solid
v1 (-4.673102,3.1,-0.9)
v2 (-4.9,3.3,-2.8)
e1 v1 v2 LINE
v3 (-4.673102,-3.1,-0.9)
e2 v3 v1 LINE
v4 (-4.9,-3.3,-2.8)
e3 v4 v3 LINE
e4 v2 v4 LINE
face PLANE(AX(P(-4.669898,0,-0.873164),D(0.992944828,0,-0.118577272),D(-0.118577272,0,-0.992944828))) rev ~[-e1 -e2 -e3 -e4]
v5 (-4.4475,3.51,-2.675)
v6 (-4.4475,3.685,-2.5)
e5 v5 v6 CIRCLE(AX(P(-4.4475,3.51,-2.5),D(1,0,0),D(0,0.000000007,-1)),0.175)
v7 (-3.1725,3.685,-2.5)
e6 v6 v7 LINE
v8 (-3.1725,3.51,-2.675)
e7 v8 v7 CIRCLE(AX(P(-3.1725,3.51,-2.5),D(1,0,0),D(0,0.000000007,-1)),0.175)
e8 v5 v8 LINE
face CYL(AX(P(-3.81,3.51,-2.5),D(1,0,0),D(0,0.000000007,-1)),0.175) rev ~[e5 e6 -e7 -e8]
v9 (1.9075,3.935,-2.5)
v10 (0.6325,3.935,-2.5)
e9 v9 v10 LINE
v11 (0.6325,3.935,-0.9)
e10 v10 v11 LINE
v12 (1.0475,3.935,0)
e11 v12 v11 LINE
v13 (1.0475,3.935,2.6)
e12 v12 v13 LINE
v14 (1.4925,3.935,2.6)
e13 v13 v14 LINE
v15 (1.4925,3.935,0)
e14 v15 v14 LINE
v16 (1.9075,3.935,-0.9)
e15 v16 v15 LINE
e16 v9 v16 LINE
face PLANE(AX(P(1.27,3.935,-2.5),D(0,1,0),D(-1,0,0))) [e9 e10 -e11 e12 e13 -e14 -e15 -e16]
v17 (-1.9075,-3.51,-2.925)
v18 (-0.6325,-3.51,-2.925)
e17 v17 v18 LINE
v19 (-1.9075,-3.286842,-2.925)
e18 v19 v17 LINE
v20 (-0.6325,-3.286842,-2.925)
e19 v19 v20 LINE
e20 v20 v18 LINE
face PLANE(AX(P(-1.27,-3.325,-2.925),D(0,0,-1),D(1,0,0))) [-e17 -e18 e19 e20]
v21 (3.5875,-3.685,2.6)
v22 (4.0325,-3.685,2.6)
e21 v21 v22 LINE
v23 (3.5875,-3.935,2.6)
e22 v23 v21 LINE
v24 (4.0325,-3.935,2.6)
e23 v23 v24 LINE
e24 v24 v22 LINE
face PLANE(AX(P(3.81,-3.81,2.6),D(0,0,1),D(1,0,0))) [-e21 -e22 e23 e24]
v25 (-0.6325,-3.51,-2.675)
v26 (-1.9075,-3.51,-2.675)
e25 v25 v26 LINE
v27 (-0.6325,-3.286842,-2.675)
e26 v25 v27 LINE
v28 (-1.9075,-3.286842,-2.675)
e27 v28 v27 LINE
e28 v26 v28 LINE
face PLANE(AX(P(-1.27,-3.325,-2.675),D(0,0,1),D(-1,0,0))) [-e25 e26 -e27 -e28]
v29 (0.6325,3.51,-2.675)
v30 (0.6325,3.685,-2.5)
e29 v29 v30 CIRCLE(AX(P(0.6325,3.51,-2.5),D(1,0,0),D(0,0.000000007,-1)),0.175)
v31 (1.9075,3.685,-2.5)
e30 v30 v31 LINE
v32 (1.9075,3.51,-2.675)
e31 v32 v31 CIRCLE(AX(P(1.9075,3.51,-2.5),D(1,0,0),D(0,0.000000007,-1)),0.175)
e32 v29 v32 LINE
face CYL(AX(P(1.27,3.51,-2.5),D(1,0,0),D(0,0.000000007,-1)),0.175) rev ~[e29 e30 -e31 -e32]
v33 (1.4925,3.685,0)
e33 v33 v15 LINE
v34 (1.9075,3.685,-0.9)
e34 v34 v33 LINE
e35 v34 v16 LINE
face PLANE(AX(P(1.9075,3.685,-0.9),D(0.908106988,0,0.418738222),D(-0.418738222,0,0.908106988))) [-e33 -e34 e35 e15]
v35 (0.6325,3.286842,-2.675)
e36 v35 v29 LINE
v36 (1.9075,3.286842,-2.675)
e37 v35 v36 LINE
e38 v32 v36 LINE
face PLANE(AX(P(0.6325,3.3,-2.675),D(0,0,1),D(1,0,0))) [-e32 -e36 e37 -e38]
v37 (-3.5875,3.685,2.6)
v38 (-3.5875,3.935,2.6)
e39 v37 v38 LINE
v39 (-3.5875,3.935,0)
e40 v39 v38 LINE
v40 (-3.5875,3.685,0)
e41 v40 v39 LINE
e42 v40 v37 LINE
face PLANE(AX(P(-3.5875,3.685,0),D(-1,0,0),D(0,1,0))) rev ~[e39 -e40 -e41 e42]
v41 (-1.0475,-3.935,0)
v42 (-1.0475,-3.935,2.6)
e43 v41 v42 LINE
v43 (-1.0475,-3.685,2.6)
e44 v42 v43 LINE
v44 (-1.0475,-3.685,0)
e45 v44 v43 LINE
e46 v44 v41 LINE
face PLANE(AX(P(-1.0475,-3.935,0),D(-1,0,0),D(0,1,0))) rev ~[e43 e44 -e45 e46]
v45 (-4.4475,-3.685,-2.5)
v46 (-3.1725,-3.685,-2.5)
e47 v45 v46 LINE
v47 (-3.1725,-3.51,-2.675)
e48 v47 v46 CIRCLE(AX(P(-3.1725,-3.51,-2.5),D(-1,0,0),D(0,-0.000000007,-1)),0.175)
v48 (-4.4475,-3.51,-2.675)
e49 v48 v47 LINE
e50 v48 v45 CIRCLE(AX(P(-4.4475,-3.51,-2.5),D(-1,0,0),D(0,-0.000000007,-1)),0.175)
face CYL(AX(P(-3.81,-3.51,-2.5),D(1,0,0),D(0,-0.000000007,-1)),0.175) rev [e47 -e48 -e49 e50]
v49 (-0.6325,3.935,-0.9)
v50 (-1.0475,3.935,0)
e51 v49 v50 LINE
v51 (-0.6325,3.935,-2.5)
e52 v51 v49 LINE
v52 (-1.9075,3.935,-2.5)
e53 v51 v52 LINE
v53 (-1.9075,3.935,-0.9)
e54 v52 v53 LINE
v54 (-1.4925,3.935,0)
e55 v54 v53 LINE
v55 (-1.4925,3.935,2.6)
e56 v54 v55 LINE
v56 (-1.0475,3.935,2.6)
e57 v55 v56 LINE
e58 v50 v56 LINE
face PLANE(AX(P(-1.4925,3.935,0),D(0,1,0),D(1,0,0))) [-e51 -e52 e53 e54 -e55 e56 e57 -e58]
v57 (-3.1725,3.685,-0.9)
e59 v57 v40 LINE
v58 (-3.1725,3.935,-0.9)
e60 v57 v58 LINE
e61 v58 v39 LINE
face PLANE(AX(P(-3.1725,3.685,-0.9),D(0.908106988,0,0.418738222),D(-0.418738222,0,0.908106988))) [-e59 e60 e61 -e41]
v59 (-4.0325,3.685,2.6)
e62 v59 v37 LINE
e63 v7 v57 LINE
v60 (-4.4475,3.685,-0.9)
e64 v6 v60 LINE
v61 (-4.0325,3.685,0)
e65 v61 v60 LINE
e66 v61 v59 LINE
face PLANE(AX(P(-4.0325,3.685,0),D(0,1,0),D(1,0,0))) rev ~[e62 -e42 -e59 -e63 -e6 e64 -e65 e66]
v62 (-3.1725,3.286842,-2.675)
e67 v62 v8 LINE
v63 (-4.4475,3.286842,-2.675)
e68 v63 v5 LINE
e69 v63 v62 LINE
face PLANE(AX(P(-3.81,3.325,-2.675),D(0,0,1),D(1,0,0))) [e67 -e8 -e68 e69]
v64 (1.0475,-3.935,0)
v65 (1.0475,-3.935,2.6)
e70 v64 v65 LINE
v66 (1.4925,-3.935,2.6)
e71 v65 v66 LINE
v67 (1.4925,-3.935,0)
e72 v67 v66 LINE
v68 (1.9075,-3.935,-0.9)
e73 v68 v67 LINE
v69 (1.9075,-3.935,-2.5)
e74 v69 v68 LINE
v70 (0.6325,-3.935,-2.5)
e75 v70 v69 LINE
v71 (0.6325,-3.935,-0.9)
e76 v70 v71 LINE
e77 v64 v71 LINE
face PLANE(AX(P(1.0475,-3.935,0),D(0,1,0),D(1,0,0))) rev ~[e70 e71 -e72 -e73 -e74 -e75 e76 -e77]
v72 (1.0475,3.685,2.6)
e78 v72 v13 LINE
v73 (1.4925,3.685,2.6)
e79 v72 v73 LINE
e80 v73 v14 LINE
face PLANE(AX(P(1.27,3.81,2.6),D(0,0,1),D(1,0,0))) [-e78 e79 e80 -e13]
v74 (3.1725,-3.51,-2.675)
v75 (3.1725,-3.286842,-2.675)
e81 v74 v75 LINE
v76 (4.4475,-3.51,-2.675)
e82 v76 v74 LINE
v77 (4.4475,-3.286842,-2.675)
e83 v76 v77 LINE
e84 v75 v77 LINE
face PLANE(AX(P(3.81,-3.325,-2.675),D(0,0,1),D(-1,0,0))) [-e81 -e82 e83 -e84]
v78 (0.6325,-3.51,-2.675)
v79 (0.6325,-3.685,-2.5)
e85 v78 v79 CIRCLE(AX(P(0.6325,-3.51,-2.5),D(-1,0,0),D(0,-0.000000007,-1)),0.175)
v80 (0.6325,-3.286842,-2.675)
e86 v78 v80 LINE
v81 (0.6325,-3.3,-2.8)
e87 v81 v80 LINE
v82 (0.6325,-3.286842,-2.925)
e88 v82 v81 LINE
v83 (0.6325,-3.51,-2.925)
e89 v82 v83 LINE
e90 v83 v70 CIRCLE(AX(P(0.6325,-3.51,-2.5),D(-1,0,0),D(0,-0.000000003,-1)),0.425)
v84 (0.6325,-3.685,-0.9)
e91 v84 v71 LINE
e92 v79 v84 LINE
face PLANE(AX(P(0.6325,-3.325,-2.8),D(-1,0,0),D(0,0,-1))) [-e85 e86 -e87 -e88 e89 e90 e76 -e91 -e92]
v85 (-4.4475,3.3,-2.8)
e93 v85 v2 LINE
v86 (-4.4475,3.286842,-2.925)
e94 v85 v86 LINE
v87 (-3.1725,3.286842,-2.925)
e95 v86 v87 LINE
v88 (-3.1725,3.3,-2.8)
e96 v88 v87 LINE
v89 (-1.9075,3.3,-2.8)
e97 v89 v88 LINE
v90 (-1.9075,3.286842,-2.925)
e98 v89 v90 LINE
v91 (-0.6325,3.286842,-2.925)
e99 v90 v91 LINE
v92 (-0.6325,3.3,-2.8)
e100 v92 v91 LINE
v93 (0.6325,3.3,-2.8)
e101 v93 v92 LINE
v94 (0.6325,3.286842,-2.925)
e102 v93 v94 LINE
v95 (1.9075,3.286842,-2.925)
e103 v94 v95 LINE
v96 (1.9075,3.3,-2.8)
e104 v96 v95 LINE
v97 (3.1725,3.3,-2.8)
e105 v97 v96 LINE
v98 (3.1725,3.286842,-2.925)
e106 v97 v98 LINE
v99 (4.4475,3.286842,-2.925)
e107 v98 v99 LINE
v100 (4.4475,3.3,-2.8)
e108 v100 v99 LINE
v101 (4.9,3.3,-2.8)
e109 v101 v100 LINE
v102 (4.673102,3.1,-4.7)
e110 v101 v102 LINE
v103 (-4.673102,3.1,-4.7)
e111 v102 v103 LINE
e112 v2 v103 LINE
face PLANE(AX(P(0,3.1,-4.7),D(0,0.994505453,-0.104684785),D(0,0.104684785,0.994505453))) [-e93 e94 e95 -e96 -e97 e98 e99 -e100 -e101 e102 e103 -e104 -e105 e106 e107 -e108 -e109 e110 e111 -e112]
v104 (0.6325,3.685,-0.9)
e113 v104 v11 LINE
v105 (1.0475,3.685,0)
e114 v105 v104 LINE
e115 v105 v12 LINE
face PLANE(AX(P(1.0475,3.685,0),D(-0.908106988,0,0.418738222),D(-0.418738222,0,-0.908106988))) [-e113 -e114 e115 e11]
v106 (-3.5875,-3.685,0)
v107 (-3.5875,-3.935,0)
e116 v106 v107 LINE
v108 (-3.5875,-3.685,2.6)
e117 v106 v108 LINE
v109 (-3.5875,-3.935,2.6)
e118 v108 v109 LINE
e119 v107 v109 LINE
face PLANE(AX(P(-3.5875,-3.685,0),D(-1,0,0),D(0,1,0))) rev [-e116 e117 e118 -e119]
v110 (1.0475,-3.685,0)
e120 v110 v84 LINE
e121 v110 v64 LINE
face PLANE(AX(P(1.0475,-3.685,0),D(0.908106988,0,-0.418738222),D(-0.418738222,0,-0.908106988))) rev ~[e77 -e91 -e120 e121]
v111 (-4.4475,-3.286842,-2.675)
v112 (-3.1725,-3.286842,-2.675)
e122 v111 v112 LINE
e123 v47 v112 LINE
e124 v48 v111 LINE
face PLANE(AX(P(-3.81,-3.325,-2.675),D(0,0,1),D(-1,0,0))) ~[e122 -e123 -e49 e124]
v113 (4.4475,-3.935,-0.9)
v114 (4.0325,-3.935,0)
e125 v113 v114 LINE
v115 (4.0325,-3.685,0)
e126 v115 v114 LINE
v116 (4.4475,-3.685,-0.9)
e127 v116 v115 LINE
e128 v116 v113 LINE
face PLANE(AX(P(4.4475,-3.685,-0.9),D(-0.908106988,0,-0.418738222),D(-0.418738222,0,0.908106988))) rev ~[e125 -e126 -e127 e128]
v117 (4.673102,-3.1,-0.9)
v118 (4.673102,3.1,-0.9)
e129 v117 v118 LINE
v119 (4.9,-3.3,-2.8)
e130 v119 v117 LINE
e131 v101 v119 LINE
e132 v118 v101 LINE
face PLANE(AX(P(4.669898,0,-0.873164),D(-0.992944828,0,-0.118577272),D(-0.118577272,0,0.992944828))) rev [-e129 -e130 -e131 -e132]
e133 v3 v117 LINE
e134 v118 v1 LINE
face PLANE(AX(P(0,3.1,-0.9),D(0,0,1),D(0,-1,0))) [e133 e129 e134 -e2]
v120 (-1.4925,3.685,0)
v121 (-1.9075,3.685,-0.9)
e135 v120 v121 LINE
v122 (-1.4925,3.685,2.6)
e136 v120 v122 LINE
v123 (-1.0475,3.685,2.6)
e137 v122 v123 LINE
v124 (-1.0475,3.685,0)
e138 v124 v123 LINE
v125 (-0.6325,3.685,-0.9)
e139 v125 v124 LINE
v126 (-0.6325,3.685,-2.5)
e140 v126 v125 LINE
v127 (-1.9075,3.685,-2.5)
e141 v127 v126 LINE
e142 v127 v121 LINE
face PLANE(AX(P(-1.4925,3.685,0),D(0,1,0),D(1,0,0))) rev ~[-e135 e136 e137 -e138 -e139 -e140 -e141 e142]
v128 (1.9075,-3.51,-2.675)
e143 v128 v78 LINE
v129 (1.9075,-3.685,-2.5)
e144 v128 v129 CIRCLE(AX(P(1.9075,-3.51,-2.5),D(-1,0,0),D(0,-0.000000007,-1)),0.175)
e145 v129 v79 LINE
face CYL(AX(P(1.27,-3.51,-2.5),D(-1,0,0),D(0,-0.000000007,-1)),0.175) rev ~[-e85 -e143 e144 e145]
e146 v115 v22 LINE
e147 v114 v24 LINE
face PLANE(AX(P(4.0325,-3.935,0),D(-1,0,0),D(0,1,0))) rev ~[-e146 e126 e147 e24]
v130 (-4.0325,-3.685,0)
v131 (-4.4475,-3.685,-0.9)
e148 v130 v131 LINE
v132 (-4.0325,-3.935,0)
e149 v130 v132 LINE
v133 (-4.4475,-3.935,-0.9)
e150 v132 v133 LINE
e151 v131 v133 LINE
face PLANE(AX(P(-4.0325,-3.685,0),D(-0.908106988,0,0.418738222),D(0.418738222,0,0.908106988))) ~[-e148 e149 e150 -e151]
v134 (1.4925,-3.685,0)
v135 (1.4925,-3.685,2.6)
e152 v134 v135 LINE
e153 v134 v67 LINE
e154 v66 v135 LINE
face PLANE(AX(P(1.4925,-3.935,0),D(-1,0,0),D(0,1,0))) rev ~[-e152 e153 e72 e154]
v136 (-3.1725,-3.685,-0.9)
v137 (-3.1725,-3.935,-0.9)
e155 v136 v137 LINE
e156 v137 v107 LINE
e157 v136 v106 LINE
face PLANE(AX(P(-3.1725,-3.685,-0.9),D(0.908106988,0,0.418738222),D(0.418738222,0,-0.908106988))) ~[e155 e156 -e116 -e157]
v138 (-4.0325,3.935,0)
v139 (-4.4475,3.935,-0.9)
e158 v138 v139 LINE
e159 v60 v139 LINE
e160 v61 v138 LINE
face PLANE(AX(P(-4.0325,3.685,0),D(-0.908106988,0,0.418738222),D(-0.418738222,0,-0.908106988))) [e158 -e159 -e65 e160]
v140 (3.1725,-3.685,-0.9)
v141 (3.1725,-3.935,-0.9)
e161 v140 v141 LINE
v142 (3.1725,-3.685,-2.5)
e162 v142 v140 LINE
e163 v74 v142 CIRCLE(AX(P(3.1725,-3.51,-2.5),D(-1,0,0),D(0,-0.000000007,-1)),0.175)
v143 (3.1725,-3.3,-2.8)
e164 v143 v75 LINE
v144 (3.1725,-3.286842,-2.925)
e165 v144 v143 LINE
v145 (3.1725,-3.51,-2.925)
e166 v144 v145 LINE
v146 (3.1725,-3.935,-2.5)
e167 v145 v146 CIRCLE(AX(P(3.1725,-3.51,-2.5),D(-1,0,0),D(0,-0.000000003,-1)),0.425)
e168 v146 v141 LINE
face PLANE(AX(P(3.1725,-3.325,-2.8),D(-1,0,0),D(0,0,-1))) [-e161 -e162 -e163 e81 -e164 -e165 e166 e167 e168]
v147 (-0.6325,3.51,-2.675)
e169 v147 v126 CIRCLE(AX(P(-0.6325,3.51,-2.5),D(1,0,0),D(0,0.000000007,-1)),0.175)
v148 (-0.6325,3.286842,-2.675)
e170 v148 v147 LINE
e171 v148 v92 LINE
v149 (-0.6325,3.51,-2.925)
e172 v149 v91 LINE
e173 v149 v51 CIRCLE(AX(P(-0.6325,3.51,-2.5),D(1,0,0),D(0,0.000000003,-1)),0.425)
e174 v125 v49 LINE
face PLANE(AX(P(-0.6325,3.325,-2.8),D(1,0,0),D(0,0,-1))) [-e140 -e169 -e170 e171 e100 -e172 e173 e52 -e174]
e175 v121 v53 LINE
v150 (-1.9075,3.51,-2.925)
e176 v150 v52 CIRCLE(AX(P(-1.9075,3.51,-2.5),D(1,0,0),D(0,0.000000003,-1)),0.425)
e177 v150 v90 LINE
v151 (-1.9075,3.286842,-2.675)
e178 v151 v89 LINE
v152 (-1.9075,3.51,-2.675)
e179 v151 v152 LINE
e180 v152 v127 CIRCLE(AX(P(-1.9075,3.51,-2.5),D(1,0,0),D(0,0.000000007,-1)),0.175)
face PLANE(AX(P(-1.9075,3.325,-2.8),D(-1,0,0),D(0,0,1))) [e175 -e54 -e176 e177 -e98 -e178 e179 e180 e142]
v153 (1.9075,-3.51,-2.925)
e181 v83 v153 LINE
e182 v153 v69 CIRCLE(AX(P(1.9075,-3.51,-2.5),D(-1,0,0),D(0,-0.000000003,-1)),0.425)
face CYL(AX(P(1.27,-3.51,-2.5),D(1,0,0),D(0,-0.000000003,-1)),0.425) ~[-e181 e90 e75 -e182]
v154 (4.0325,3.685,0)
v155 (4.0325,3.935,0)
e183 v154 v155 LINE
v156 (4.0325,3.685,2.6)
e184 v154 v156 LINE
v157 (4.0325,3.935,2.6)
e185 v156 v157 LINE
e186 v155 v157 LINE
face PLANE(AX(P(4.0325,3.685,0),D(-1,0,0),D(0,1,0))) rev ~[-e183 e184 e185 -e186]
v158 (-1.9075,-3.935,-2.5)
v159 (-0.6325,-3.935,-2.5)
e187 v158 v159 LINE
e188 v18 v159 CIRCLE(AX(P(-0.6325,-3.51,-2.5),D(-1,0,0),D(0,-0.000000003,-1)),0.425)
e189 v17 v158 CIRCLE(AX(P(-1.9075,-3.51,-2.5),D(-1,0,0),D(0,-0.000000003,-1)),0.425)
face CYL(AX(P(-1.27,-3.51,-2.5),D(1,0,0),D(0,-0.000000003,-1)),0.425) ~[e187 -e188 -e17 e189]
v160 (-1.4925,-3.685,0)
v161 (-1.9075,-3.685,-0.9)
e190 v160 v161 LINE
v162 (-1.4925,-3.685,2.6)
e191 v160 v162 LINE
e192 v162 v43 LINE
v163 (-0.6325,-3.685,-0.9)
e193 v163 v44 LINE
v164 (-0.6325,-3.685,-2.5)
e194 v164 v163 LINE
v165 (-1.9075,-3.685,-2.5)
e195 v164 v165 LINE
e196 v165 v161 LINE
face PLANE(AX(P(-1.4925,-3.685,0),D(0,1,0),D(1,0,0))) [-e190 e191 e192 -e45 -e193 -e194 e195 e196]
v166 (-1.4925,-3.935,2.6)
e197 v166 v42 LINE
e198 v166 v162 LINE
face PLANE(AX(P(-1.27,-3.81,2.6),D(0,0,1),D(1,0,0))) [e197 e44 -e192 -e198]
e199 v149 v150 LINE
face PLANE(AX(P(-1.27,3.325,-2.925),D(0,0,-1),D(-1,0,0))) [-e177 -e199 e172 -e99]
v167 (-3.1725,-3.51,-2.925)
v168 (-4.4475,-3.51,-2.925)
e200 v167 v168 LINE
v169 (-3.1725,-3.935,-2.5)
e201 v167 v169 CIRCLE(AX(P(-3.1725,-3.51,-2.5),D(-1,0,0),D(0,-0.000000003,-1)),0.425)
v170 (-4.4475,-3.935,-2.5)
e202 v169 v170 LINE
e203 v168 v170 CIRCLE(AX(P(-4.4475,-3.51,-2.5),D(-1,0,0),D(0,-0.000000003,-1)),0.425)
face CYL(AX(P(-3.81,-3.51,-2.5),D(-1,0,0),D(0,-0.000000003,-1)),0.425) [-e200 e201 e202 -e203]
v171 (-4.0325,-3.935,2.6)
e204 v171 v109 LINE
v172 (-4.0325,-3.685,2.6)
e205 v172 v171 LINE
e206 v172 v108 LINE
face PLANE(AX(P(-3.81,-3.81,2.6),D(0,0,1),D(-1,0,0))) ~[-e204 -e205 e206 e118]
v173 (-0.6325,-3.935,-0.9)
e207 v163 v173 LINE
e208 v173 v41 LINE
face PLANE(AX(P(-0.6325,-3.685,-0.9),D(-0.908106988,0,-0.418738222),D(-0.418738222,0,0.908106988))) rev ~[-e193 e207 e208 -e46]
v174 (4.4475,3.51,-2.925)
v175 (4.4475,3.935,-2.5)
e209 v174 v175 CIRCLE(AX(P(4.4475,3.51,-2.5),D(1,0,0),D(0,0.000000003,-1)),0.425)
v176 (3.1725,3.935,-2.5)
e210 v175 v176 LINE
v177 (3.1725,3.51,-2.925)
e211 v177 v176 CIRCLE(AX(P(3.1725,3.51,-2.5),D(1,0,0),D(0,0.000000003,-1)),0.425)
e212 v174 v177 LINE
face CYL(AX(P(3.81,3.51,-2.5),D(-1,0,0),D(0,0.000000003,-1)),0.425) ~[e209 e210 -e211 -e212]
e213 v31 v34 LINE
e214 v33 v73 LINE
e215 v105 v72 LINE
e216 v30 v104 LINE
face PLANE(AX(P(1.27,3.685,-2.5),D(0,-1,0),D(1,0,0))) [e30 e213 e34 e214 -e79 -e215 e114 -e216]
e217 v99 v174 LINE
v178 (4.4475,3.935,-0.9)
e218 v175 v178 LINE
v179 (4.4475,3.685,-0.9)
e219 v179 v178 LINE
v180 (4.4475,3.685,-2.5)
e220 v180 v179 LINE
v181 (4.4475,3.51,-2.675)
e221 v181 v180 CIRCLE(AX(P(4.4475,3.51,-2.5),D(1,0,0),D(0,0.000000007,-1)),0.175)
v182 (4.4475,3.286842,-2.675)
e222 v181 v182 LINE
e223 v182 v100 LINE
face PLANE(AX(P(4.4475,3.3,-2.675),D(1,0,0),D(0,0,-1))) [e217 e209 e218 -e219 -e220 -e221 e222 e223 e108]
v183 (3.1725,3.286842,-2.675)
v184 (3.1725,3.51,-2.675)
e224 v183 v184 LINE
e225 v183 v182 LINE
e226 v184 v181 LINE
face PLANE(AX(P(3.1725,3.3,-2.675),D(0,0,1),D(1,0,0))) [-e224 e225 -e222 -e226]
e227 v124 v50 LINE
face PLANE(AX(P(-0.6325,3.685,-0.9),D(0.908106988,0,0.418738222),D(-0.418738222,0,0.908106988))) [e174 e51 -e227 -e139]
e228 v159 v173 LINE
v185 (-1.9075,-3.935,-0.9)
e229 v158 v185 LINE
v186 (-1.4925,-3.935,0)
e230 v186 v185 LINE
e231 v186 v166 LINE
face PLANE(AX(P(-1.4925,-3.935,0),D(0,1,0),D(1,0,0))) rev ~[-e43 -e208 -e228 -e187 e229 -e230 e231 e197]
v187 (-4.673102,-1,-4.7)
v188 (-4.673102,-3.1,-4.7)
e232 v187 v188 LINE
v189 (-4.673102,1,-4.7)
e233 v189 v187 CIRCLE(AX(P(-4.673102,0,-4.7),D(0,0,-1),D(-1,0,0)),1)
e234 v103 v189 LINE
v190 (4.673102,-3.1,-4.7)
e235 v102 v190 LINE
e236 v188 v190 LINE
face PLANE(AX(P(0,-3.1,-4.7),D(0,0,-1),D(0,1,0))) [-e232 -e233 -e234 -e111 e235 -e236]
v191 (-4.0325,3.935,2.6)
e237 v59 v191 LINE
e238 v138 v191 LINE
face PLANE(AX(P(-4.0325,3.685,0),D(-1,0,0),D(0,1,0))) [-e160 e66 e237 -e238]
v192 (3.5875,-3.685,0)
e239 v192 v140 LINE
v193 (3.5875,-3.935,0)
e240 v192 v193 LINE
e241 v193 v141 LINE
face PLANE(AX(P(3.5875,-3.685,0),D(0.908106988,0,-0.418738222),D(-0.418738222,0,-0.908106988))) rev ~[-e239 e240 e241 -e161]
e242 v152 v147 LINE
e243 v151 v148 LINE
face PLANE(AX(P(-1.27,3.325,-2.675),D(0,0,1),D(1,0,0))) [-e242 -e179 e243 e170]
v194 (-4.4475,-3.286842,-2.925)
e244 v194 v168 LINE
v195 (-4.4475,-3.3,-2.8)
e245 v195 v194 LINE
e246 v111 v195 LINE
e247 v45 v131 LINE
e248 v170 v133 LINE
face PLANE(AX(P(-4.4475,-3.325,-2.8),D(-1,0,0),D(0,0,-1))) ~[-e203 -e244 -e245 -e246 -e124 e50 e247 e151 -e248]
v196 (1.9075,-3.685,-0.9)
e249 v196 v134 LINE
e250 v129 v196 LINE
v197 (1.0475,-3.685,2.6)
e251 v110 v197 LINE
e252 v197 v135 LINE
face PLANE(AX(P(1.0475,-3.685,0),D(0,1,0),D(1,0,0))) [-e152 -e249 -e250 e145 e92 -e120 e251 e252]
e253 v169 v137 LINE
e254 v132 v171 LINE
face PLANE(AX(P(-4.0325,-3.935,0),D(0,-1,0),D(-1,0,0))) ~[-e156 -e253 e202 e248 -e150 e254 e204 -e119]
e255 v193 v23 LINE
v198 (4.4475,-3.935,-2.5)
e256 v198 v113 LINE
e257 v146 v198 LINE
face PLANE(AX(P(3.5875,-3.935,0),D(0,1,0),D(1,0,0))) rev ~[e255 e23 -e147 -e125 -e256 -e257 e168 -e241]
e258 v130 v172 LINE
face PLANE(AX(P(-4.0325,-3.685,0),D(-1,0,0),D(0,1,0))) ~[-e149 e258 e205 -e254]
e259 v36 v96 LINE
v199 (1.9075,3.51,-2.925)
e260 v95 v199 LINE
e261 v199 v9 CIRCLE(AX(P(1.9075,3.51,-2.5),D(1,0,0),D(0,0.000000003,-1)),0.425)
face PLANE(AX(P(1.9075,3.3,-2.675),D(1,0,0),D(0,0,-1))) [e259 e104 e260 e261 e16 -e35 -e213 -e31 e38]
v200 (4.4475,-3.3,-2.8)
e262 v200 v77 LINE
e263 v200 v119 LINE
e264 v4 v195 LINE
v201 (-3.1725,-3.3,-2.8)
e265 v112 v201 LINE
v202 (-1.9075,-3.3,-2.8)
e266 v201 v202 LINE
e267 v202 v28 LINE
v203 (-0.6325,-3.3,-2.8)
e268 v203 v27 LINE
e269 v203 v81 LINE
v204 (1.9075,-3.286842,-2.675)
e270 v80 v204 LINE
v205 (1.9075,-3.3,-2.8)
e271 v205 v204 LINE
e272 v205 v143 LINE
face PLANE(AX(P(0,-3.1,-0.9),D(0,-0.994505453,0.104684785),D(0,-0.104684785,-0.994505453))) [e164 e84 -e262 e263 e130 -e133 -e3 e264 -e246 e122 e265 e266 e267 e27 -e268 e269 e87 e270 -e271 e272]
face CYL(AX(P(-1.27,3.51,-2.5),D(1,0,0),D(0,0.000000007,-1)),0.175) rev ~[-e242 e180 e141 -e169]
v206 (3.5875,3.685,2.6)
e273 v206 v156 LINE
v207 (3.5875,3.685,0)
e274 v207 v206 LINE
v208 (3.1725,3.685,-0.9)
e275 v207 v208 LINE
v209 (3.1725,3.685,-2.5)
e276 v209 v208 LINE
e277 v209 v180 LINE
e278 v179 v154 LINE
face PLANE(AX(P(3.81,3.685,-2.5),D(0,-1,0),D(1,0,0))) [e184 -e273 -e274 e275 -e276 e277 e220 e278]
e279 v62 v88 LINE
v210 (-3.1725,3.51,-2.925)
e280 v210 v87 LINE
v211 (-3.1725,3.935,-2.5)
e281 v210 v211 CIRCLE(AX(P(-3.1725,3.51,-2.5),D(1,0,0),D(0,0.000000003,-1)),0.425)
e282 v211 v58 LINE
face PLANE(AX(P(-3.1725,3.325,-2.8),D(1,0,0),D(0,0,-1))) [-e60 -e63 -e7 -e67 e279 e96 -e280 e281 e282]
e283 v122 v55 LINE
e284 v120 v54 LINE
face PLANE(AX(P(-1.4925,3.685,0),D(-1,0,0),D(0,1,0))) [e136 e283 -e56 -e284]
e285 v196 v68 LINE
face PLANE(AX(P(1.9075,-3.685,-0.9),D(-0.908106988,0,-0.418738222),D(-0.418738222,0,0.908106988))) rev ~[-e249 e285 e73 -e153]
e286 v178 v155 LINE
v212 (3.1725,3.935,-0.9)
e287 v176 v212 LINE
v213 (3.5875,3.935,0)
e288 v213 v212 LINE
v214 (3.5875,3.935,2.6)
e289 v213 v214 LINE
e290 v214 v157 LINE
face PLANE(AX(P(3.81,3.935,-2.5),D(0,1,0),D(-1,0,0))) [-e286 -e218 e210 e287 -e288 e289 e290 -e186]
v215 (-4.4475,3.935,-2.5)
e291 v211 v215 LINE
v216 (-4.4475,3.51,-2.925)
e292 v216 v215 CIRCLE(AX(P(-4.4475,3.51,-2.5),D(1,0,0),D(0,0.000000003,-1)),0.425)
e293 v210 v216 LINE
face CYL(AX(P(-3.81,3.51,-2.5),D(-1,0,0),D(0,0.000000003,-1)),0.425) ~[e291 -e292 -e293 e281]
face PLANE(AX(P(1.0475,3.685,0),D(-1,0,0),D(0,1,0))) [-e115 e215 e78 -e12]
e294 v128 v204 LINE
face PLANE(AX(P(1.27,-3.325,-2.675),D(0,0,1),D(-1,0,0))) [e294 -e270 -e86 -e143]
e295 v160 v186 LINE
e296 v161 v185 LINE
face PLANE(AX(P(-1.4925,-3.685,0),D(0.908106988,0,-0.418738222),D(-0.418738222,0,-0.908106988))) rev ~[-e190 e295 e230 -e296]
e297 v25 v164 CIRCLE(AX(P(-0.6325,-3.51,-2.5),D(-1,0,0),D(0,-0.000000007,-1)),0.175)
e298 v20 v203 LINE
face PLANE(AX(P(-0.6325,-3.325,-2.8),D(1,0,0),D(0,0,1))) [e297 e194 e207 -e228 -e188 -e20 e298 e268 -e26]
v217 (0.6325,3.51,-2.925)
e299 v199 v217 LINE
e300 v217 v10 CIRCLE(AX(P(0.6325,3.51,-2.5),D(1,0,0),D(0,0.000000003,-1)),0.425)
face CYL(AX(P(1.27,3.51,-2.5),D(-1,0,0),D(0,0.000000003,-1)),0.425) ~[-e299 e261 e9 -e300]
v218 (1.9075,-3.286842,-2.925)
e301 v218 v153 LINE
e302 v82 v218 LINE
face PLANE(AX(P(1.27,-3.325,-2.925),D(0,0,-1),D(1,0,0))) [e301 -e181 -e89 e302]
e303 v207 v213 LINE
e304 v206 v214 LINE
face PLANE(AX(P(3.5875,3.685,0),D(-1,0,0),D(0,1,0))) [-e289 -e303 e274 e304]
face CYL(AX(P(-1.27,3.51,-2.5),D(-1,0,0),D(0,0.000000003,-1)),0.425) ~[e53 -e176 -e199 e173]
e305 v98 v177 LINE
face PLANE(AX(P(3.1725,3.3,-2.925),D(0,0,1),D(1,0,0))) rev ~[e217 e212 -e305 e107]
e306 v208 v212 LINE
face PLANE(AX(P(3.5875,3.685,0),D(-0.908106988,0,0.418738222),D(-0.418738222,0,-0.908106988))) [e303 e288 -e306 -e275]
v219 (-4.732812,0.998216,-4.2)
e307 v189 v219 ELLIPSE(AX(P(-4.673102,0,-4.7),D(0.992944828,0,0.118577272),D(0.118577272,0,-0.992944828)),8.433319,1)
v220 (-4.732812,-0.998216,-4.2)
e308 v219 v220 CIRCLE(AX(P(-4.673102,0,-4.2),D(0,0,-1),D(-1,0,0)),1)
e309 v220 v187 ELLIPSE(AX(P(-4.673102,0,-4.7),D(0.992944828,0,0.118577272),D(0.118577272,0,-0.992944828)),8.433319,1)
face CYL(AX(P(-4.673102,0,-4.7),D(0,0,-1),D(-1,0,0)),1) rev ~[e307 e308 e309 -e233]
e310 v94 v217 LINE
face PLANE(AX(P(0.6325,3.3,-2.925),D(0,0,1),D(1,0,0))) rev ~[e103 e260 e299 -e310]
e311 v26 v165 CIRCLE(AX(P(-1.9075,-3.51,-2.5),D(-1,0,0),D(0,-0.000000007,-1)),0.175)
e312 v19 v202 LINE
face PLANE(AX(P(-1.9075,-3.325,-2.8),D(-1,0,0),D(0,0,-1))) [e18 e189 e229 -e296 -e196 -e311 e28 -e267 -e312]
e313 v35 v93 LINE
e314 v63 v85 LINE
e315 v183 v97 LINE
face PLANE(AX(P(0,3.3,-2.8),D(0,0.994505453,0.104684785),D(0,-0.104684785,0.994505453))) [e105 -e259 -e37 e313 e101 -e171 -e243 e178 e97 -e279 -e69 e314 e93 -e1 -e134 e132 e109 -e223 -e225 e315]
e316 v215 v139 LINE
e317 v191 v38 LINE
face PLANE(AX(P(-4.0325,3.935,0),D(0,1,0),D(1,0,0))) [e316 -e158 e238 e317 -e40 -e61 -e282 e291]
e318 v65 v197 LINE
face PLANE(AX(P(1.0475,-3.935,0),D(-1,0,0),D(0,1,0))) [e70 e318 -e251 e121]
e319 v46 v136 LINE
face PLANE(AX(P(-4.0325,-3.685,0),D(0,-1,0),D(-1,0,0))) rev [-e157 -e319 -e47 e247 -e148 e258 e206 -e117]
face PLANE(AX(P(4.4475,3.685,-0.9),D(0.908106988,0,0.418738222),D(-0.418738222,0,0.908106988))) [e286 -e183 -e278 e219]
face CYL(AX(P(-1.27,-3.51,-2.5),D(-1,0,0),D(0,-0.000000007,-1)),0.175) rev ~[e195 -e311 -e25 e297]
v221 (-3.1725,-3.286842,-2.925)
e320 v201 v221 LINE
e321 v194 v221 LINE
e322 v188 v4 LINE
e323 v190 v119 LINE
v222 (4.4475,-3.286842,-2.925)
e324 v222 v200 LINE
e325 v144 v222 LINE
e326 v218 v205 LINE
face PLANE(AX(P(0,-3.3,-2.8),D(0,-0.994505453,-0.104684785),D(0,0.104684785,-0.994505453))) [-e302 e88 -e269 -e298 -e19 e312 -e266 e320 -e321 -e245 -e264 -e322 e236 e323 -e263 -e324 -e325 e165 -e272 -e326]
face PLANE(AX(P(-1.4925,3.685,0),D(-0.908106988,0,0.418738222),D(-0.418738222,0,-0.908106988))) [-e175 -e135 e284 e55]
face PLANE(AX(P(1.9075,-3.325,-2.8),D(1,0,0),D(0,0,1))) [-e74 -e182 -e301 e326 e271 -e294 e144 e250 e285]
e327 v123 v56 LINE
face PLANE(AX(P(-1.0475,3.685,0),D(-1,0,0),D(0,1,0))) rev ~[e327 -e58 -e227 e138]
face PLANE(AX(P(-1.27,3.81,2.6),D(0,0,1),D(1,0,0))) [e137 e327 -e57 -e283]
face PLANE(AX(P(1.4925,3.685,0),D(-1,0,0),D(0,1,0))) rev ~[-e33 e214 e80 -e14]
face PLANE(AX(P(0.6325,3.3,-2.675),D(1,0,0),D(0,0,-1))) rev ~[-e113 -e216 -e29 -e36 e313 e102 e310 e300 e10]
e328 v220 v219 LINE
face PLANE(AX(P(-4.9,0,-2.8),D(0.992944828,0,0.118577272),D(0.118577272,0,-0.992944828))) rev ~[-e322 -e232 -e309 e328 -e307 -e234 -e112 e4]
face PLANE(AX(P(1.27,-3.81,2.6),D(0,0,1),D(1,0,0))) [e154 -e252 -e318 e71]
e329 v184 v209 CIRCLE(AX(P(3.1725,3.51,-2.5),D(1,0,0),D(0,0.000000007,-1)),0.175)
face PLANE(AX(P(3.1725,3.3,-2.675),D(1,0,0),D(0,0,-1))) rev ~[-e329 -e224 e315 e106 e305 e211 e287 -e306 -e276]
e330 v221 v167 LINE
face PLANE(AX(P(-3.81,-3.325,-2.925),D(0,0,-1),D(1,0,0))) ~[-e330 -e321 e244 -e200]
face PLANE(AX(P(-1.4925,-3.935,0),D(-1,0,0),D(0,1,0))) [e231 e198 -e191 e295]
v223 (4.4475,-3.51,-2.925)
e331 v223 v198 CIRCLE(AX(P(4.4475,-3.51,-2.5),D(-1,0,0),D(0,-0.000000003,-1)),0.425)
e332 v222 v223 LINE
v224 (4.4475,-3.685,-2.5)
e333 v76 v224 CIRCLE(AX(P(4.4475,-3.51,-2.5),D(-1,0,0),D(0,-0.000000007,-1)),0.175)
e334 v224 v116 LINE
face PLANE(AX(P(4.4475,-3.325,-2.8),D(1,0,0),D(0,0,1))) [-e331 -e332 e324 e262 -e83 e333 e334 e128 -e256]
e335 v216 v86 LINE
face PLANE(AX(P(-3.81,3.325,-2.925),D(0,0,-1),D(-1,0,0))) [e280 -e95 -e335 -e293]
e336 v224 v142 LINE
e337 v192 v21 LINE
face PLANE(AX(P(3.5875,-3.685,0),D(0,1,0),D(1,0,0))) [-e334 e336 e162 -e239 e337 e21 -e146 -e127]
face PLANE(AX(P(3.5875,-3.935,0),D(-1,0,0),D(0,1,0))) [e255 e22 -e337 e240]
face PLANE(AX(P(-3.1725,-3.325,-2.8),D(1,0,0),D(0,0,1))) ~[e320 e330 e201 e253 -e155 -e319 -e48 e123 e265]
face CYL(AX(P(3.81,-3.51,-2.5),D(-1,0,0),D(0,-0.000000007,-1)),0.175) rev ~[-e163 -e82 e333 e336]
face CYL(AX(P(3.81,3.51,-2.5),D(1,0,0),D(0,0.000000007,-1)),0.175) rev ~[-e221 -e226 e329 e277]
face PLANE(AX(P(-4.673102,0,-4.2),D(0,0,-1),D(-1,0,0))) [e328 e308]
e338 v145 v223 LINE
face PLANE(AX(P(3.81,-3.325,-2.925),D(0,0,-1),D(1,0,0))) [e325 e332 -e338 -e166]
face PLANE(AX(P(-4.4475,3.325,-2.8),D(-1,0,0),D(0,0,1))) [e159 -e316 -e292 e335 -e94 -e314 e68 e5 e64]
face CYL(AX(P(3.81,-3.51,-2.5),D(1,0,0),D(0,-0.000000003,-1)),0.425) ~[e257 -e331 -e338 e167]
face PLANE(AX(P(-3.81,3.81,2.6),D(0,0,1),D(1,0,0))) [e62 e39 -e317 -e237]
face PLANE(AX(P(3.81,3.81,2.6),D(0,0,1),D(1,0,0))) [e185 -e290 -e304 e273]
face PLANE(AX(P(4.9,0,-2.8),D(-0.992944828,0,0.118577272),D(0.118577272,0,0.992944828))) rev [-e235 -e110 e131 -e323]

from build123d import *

# Parameters (mm, degrees)
RESSALTO_EXTRUS_O1_DEPTH        = 4.9
CORTE_EXTRUS_O2_DEPTH           = 3.55
ESBO_O8_R                       = 1
CORTE_EXTRUS_O5_DEPTH           = 0.5
ESBO_O6_W                       = 1.275
ESBO_O6_H                       = 0.25
RESSALTO_EXTRUS_O2_DEPTH        = 0.025
ESBO_O7_W                       = 1.275
ESBO_O7_H                       = 0.25
CORTE_EXTRUS_O6_START           = -0.25
CORTE_EXTRUS_O6_DEPTH           = 0.25
ESBO_O10_W                      = 0.445
ESBO_O10_H                      = 0.25
RESSALTO_EXTRUS_O3_DEPTH        = 2.6
PADR_O_LINEAR1_COUNT            = 4
PADR_O_LINEAR1_PITCH            = 2.54
PADR_O_LINEAR1_COPY_1_SKETCH_W  = 1.275
PADR_O_LINEAR1_COPY_1_SKETCH_H  = 0.25
PADR_O_LINEAR1_COPY_1_DEPTH     = 0.025
PADR_O_LINEAR1_COPY_2_SKETCH_W  = 1.275
PADR_O_LINEAR1_COPY_2_SKETCH_H  = 0.25
PADR_O_LINEAR1_COPY_2_DEPTH     = 0.025
PADR_O_LINEAR1_COPY_3_SKETCH_W  = 1.275
PADR_O_LINEAR1_COPY_3_SKETCH_H  = 0.25
PADR_O_LINEAR1_COPY_3_DEPTH     = 0.025
PADR_O_LINEAR1_COPY_4_SKETCH_W  = 1.275
PADR_O_LINEAR1_COPY_4_SKETCH_H  = 0.25
PADR_O_LINEAR1_COPY_5_SKETCH_W  = 1.275
PADR_O_LINEAR1_COPY_5_SKETCH_H  = 0.25
PADR_O_LINEAR1_COPY_6_SKETCH_W  = 1.275
PADR_O_LINEAR1_COPY_6_SKETCH_H  = 0.25
PADR_O_START                    = -0.25
PADR_O_LINEAR1_COPY_7_DEPTH     = 0.25
PADR_O_LINEAR1_COPY_8_DEPTH     = 0.25
PADR_O_LINEAR1_COPY_9_DEPTH     = 0.25
PADR_O_LINEAR1_COPY_10_SKETCH_W = 0.445
PADR_O_LINEAR1_COPY_10_SKETCH_H = 0.25
PADR_O_LINEAR1_COPY_10_DEPTH    = 2.6
PADR_O_LINEAR1_COPY_11_SKETCH_W = 0.445
PADR_O_LINEAR1_COPY_11_SKETCH_H = 0.25
PADR_O_LINEAR1_COPY_11_DEPTH    = 2.6
PADR_O_LINEAR1_COPY_12_SKETCH_W = 0.445
PADR_O_LINEAR1_COPY_12_SKETCH_H = 0.25
PADR_O_LINEAR1_COPY_12_DEPTH    = 2.6


with BuildPart() as part:
    # Esboço1 → Ressalto-extrusão1 (new, symmetric)
    with BuildSketch(Plane(origin=(0, 0, 0), x_dir=(0, 0, -1), z_dir=(1, 0, 0))):
        Polygon((0.9, 3.1), (0.9, -3.1), (2.8, -3.3), (4.7, -3.1), (4.7, 3.1), (2.8, 3.3), align=None)
    extrude(amount=RESSALTO_EXTRUS_O1_DEPTH, both=True)

    # Esboço3 → Corte-extrusão2 (cut, symmetric)
    with BuildSketch(Plane(origin=(0, 0, 0), x_dir=(1, 0, 0), z_dir=(0, 1, 0))):
        Polygon((-4.9, 2.8), (-4.669897634, 4.726835982), (-5.836348907, 4.726835982), (-5.836348907, 0.873164018), (-4.669897634, 0.873164018), align=None)
    corte_extrus_o2 = extrude(amount=CORTE_EXTRUS_O2_DEPTH, both=True, mode=Mode.SUBTRACT)

    # Espelhar1: Corte-extrusão2 across plane
    add(corte_extrus_o2.mirror(Plane(origin=(0, 0, 0), x_dir=(0, 0, 1), z_dir=(1, 0, 0))), mode=Mode.SUBTRACT)

    # Esboço8 → Corte-extrusão5 (cut)
    with BuildSketch(Plane(origin=(0, 0, -4.7), x_dir=(-1, 0, 0), z_dir=(0, 0, -1))):
        with Locations((4.673102382, 0)):
            Circle(ESBO_O8_R)
    extrude(amount=-CORTE_EXTRUS_O5_DEPTH, mode=Mode.SUBTRACT)

    # Esboço6 → Ressalto-extrusão2 (add, symmetric)
    with BuildSketch(Plane(origin=(0, 3.3, 0), x_dir=(1, 0, 0), z_dir=(0, 1, 0))):
        with Locations((-3.81, 2.8)):
            Rectangle(ESBO_O6_W, ESBO_O6_H)
    ressalto_extrus_o2 = extrude(amount=RESSALTO_EXTRUS_O2_DEPTH, both=True)

    # Varredura1: sweep along a curve in space
    with BuildLine() as varredura1_path:
        Line((-3.81, 3.325, -2.8), (-3.81, 3.51, -2.8))
        ThreePointArc((-3.81, 3.51, -2.8), (-3.81, 3.722132034, -2.712132034), (-3.81, 3.81, -2.5))
        Line((-3.81, 3.81, -2.5), (-3.81, 3.81, 0))
    # Esboço7 → Varredura1 (sweep)
    with BuildSketch(Plane(origin=(0, 3.325, 0), x_dir=(1, 0, 0), z_dir=(0, 1, 0))):
        with Locations((-3.81, 2.8)):
            Rectangle(ESBO_O7_W, ESBO_O7_H)
    varredura1 = sweep(path=varredura1_path.line)

    # Esboço9 → Corte-extrusão6 (cut)
    with BuildSketch(Plane(origin=(0, 3.935, 0), x_dir=(1, 0, 0), z_dir=(0, 1, 0)).offset(CORTE_EXTRUS_O6_START)):
        Polygon((-4.0325, 0), (-4.4475, 0.9), (-4.4475, -0.2), (-3.1725, -0.2), (-3.1725, 0.9), (-3.5875, 0), align=None)
    corte_extrus_o6 = extrude(amount=CORTE_EXTRUS_O6_DEPTH, mode=Mode.SUBTRACT)

    # Esboço10 → Ressalto-extrusão3 (add)
    with BuildSketch(Plane.XY):
        with Locations((-3.81, 3.81)):
            Rectangle(ESBO_O10_W, ESBO_O10_H)
    ressalto_extrus_o3 = extrude(amount=RESSALTO_EXTRUS_O3_DEPTH)

    # Espelhar2: Ressalto-extrusão2, Varredura1, Corte-extrusão6, Ressalto-extrusão3 across plane
    add(ressalto_extrus_o2.mirror(Plane.ZX))
    add(varredura1.mirror(Plane.ZX))
    add(corte_extrus_o6.mirror(Plane.ZX), mode=Mode.SUBTRACT)
    add(ressalto_extrus_o3.mirror(Plane.ZX))

    # Padrão linear1: Ressalto-extrusão2, Varredura1, Corte-extrusão6, Ressalto-extrusão3 ×4
    with Locations(*[(i * PADR_O_LINEAR1_PITCH, 0, 0) for i in range(1, PADR_O_LINEAR1_COUNT)]):
        add(ressalto_extrus_o2)
        add(varredura1)
        add(corte_extrus_o6, mode=Mode.SUBTRACT)
        add(ressalto_extrus_o3)

    # Padrão linear1 copy 1 sketch → Padrão linear1 copy 1 (add, symmetric)
    with BuildSketch(Plane(origin=(2.54, -3.3, 0), x_dir=(1, 0, 0), z_dir=(0, -1, 0))):
        with Locations((-3.81, -2.8)):
            Rectangle(PADR_O_LINEAR1_COPY_1_SKETCH_W, PADR_O_LINEAR1_COPY_1_SKETCH_H)
    extrude(amount=PADR_O_LINEAR1_COPY_1_DEPTH, both=True)

    # Padrão linear1 copy 2 sketch → Padrão linear1 copy 2 (add, symmetric)
    with BuildSketch(Plane(origin=(5.08, -3.3, 0), x_dir=(1, 0, 0), z_dir=(0, -1, 0))):
        with Locations((-3.81, -2.8)):
            Rectangle(PADR_O_LINEAR1_COPY_2_SKETCH_W, PADR_O_LINEAR1_COPY_2_SKETCH_H)
    extrude(amount=PADR_O_LINEAR1_COPY_2_DEPTH, both=True)

    # Padrão linear1 copy 3 sketch → Padrão linear1 copy 3 (add, symmetric)
    with BuildSketch(Plane(origin=(7.62, -3.3, 0), x_dir=(1, 0, 0), z_dir=(0, -1, 0))):
        with Locations((-3.81, -2.8)):
            Rectangle(PADR_O_LINEAR1_COPY_3_SKETCH_W, PADR_O_LINEAR1_COPY_3_SKETCH_H)
    extrude(amount=PADR_O_LINEAR1_COPY_3_DEPTH, both=True)

    # Padrão linear1 copy 4: sweep along a curve in space
    with BuildLine() as padr_o_linear1_copy_4_path:
        Line((-1.27, -3.325, -2.8), (-1.27, -3.51, -2.8))
        ThreePointArc((-1.27, -3.51, -2.8), (-1.27, -3.722132034, -2.712132034), (-1.27, -3.81, -2.5))
        Line((-1.27, -3.81, -2.5), (-1.27, -3.81, 0))
    # Padrão linear1 copy 4 sketch → Padrão linear1 copy 4 (sweep)
    with BuildSketch(Plane(origin=(2.54, -3.325, 0), x_dir=(1, 0, 0), z_dir=(0, -1, 0))):
        with Locations((-3.81, -2.8)):
            Rectangle(PADR_O_LINEAR1_COPY_4_SKETCH_W, PADR_O_LINEAR1_COPY_4_SKETCH_H)
    sweep(path=padr_o_linear1_copy_4_path.line)

    # Padrão linear1 copy 5: sweep along a curve in space
    with BuildLine() as padr_o_linear1_copy_5_path:
        Line((1.27, -3.325, -2.8), (1.27, -3.51, -2.8))
        ThreePointArc((1.27, -3.51, -2.8), (1.27, -3.722132034, -2.712132034), (1.27, -3.81, -2.5))
        Line((1.27, -3.81, -2.5), (1.27, -3.81, 0))
    # Padrão linear1 copy 5 sketch → Padrão linear1 copy 5 (sweep)
    with BuildSketch(Plane(origin=(5.08, -3.325, 0), x_dir=(1, 0, 0), z_dir=(0, -1, 0))):
        with Locations((-3.81, -2.8)):
            Rectangle(PADR_O_LINEAR1_COPY_5_SKETCH_W, PADR_O_LINEAR1_COPY_5_SKETCH_H)
    sweep(path=padr_o_linear1_copy_5_path.line)

    # Padrão linear1 copy 6: sweep along a curve in space
    with BuildLine() as padr_o_linear1_copy_6_path:
        Line((3.81, -3.325, -2.8), (3.81, -3.51, -2.8))
        ThreePointArc((3.81, -3.51, -2.8), (3.81, -3.722132034, -2.712132034), (3.81, -3.81, -2.5))
        Line((3.81, -3.81, -2.5), (3.81, -3.81, 0))
    # Padrão linear1 copy 6 sketch → Padrão linear1 copy 6 (sweep)
    with BuildSketch(Plane(origin=(7.62, -3.325, 0), x_dir=(1, 0, 0), z_dir=(0, -1, 0))):
        with Locations((-3.81, -2.8)):
            Rectangle(PADR_O_LINEAR1_COPY_6_SKETCH_W, PADR_O_LINEAR1_COPY_6_SKETCH_H)
    sweep(path=padr_o_linear1_copy_6_path.line)

    # Padrão linear1 copy 7 sketch → Padrão linear1 copy 7 (cut)
    with BuildSketch(Plane(origin=(2.54, -3.935, 0), x_dir=(1, 0, 0), z_dir=(0, -1, 0)).offset(PADR_O_START)):
        Polygon((-4.0325, 0), (-4.4475, -0.9), (-4.4475, 0.2), (-3.1725, 0.2), (-3.1725, -0.9), (-3.5875, 0), align=None)
    extrude(amount=PADR_O_LINEAR1_COPY_7_DEPTH, mode=Mode.SUBTRACT)

    # Padrão linear1 copy 8 sketch → Padrão linear1 copy 8 (cut)
    with BuildSketch(Plane(origin=(5.08, -3.935, 0), x_dir=(1, 0, 0), z_dir=(0, -1, 0)).offset(PADR_O_START)):
        Polygon((-4.0325, 0), (-4.4475, -0.9), (-4.4475, 0.2), (-3.1725, 0.2), (-3.1725, -0.9), (-3.5875, 0), align=None)
    extrude(amount=PADR_O_LINEAR1_COPY_8_DEPTH, mode=Mode.SUBTRACT)

    # Padrão linear1 copy 9 sketch → Padrão linear1 copy 9 (cut)
    with BuildSketch(Plane(origin=(7.62, -3.935, 0), x_dir=(1, 0, 0), z_dir=(0, -1, 0)).offset(PADR_O_START)):
        Polygon((-4.0325, 0), (-4.4475, -0.9), (-4.4475, 0.2), (-3.1725, 0.2), (-3.1725, -0.9), (-3.5875, 0), align=None)
    extrude(amount=PADR_O_LINEAR1_COPY_9_DEPTH, mode=Mode.SUBTRACT)

    # Padrão linear1 copy 10 sketch → Padrão linear1 copy 10 (add)
    with BuildSketch(Plane(origin=(2.54, 0, 0), x_dir=(1, 0, 0), z_dir=(0, 0, 1))):
        with Locations((-3.81, -3.81)):
            Rectangle(PADR_O_LINEAR1_COPY_10_SKETCH_W, PADR_O_LINEAR1_COPY_10_SKETCH_H)
    extrude(amount=PADR_O_LINEAR1_COPY_10_DEPTH)

    # Padrão linear1 copy 11 sketch → Padrão linear1 copy 11 (add)
    with BuildSketch(Plane(origin=(5.08, 0, 0), x_dir=(1, 0, 0), z_dir=(0, 0, 1))):
        with Locations((-3.81, -3.81)):
            Rectangle(PADR_O_LINEAR1_COPY_11_SKETCH_W, PADR_O_LINEAR1_COPY_11_SKETCH_H)
    extrude(amount=PADR_O_LINEAR1_COPY_11_DEPTH)

    # Padrão linear1 copy 12 sketch → Padrão linear1 copy 12 (add)
    with BuildSketch(Plane(origin=(7.62, 0, 0), x_dir=(1, 0, 0), z_dir=(0, 0, 1))):
        with Locations((-3.81, -3.81)):
            Rectangle(PADR_O_LINEAR1_COPY_12_SKETCH_W, PADR_O_LINEAR1_COPY_12_SKETCH_H)
    extrude(amount=PADR_O_LINEAR1_COPY_12_DEPTH)


solid = part.part
